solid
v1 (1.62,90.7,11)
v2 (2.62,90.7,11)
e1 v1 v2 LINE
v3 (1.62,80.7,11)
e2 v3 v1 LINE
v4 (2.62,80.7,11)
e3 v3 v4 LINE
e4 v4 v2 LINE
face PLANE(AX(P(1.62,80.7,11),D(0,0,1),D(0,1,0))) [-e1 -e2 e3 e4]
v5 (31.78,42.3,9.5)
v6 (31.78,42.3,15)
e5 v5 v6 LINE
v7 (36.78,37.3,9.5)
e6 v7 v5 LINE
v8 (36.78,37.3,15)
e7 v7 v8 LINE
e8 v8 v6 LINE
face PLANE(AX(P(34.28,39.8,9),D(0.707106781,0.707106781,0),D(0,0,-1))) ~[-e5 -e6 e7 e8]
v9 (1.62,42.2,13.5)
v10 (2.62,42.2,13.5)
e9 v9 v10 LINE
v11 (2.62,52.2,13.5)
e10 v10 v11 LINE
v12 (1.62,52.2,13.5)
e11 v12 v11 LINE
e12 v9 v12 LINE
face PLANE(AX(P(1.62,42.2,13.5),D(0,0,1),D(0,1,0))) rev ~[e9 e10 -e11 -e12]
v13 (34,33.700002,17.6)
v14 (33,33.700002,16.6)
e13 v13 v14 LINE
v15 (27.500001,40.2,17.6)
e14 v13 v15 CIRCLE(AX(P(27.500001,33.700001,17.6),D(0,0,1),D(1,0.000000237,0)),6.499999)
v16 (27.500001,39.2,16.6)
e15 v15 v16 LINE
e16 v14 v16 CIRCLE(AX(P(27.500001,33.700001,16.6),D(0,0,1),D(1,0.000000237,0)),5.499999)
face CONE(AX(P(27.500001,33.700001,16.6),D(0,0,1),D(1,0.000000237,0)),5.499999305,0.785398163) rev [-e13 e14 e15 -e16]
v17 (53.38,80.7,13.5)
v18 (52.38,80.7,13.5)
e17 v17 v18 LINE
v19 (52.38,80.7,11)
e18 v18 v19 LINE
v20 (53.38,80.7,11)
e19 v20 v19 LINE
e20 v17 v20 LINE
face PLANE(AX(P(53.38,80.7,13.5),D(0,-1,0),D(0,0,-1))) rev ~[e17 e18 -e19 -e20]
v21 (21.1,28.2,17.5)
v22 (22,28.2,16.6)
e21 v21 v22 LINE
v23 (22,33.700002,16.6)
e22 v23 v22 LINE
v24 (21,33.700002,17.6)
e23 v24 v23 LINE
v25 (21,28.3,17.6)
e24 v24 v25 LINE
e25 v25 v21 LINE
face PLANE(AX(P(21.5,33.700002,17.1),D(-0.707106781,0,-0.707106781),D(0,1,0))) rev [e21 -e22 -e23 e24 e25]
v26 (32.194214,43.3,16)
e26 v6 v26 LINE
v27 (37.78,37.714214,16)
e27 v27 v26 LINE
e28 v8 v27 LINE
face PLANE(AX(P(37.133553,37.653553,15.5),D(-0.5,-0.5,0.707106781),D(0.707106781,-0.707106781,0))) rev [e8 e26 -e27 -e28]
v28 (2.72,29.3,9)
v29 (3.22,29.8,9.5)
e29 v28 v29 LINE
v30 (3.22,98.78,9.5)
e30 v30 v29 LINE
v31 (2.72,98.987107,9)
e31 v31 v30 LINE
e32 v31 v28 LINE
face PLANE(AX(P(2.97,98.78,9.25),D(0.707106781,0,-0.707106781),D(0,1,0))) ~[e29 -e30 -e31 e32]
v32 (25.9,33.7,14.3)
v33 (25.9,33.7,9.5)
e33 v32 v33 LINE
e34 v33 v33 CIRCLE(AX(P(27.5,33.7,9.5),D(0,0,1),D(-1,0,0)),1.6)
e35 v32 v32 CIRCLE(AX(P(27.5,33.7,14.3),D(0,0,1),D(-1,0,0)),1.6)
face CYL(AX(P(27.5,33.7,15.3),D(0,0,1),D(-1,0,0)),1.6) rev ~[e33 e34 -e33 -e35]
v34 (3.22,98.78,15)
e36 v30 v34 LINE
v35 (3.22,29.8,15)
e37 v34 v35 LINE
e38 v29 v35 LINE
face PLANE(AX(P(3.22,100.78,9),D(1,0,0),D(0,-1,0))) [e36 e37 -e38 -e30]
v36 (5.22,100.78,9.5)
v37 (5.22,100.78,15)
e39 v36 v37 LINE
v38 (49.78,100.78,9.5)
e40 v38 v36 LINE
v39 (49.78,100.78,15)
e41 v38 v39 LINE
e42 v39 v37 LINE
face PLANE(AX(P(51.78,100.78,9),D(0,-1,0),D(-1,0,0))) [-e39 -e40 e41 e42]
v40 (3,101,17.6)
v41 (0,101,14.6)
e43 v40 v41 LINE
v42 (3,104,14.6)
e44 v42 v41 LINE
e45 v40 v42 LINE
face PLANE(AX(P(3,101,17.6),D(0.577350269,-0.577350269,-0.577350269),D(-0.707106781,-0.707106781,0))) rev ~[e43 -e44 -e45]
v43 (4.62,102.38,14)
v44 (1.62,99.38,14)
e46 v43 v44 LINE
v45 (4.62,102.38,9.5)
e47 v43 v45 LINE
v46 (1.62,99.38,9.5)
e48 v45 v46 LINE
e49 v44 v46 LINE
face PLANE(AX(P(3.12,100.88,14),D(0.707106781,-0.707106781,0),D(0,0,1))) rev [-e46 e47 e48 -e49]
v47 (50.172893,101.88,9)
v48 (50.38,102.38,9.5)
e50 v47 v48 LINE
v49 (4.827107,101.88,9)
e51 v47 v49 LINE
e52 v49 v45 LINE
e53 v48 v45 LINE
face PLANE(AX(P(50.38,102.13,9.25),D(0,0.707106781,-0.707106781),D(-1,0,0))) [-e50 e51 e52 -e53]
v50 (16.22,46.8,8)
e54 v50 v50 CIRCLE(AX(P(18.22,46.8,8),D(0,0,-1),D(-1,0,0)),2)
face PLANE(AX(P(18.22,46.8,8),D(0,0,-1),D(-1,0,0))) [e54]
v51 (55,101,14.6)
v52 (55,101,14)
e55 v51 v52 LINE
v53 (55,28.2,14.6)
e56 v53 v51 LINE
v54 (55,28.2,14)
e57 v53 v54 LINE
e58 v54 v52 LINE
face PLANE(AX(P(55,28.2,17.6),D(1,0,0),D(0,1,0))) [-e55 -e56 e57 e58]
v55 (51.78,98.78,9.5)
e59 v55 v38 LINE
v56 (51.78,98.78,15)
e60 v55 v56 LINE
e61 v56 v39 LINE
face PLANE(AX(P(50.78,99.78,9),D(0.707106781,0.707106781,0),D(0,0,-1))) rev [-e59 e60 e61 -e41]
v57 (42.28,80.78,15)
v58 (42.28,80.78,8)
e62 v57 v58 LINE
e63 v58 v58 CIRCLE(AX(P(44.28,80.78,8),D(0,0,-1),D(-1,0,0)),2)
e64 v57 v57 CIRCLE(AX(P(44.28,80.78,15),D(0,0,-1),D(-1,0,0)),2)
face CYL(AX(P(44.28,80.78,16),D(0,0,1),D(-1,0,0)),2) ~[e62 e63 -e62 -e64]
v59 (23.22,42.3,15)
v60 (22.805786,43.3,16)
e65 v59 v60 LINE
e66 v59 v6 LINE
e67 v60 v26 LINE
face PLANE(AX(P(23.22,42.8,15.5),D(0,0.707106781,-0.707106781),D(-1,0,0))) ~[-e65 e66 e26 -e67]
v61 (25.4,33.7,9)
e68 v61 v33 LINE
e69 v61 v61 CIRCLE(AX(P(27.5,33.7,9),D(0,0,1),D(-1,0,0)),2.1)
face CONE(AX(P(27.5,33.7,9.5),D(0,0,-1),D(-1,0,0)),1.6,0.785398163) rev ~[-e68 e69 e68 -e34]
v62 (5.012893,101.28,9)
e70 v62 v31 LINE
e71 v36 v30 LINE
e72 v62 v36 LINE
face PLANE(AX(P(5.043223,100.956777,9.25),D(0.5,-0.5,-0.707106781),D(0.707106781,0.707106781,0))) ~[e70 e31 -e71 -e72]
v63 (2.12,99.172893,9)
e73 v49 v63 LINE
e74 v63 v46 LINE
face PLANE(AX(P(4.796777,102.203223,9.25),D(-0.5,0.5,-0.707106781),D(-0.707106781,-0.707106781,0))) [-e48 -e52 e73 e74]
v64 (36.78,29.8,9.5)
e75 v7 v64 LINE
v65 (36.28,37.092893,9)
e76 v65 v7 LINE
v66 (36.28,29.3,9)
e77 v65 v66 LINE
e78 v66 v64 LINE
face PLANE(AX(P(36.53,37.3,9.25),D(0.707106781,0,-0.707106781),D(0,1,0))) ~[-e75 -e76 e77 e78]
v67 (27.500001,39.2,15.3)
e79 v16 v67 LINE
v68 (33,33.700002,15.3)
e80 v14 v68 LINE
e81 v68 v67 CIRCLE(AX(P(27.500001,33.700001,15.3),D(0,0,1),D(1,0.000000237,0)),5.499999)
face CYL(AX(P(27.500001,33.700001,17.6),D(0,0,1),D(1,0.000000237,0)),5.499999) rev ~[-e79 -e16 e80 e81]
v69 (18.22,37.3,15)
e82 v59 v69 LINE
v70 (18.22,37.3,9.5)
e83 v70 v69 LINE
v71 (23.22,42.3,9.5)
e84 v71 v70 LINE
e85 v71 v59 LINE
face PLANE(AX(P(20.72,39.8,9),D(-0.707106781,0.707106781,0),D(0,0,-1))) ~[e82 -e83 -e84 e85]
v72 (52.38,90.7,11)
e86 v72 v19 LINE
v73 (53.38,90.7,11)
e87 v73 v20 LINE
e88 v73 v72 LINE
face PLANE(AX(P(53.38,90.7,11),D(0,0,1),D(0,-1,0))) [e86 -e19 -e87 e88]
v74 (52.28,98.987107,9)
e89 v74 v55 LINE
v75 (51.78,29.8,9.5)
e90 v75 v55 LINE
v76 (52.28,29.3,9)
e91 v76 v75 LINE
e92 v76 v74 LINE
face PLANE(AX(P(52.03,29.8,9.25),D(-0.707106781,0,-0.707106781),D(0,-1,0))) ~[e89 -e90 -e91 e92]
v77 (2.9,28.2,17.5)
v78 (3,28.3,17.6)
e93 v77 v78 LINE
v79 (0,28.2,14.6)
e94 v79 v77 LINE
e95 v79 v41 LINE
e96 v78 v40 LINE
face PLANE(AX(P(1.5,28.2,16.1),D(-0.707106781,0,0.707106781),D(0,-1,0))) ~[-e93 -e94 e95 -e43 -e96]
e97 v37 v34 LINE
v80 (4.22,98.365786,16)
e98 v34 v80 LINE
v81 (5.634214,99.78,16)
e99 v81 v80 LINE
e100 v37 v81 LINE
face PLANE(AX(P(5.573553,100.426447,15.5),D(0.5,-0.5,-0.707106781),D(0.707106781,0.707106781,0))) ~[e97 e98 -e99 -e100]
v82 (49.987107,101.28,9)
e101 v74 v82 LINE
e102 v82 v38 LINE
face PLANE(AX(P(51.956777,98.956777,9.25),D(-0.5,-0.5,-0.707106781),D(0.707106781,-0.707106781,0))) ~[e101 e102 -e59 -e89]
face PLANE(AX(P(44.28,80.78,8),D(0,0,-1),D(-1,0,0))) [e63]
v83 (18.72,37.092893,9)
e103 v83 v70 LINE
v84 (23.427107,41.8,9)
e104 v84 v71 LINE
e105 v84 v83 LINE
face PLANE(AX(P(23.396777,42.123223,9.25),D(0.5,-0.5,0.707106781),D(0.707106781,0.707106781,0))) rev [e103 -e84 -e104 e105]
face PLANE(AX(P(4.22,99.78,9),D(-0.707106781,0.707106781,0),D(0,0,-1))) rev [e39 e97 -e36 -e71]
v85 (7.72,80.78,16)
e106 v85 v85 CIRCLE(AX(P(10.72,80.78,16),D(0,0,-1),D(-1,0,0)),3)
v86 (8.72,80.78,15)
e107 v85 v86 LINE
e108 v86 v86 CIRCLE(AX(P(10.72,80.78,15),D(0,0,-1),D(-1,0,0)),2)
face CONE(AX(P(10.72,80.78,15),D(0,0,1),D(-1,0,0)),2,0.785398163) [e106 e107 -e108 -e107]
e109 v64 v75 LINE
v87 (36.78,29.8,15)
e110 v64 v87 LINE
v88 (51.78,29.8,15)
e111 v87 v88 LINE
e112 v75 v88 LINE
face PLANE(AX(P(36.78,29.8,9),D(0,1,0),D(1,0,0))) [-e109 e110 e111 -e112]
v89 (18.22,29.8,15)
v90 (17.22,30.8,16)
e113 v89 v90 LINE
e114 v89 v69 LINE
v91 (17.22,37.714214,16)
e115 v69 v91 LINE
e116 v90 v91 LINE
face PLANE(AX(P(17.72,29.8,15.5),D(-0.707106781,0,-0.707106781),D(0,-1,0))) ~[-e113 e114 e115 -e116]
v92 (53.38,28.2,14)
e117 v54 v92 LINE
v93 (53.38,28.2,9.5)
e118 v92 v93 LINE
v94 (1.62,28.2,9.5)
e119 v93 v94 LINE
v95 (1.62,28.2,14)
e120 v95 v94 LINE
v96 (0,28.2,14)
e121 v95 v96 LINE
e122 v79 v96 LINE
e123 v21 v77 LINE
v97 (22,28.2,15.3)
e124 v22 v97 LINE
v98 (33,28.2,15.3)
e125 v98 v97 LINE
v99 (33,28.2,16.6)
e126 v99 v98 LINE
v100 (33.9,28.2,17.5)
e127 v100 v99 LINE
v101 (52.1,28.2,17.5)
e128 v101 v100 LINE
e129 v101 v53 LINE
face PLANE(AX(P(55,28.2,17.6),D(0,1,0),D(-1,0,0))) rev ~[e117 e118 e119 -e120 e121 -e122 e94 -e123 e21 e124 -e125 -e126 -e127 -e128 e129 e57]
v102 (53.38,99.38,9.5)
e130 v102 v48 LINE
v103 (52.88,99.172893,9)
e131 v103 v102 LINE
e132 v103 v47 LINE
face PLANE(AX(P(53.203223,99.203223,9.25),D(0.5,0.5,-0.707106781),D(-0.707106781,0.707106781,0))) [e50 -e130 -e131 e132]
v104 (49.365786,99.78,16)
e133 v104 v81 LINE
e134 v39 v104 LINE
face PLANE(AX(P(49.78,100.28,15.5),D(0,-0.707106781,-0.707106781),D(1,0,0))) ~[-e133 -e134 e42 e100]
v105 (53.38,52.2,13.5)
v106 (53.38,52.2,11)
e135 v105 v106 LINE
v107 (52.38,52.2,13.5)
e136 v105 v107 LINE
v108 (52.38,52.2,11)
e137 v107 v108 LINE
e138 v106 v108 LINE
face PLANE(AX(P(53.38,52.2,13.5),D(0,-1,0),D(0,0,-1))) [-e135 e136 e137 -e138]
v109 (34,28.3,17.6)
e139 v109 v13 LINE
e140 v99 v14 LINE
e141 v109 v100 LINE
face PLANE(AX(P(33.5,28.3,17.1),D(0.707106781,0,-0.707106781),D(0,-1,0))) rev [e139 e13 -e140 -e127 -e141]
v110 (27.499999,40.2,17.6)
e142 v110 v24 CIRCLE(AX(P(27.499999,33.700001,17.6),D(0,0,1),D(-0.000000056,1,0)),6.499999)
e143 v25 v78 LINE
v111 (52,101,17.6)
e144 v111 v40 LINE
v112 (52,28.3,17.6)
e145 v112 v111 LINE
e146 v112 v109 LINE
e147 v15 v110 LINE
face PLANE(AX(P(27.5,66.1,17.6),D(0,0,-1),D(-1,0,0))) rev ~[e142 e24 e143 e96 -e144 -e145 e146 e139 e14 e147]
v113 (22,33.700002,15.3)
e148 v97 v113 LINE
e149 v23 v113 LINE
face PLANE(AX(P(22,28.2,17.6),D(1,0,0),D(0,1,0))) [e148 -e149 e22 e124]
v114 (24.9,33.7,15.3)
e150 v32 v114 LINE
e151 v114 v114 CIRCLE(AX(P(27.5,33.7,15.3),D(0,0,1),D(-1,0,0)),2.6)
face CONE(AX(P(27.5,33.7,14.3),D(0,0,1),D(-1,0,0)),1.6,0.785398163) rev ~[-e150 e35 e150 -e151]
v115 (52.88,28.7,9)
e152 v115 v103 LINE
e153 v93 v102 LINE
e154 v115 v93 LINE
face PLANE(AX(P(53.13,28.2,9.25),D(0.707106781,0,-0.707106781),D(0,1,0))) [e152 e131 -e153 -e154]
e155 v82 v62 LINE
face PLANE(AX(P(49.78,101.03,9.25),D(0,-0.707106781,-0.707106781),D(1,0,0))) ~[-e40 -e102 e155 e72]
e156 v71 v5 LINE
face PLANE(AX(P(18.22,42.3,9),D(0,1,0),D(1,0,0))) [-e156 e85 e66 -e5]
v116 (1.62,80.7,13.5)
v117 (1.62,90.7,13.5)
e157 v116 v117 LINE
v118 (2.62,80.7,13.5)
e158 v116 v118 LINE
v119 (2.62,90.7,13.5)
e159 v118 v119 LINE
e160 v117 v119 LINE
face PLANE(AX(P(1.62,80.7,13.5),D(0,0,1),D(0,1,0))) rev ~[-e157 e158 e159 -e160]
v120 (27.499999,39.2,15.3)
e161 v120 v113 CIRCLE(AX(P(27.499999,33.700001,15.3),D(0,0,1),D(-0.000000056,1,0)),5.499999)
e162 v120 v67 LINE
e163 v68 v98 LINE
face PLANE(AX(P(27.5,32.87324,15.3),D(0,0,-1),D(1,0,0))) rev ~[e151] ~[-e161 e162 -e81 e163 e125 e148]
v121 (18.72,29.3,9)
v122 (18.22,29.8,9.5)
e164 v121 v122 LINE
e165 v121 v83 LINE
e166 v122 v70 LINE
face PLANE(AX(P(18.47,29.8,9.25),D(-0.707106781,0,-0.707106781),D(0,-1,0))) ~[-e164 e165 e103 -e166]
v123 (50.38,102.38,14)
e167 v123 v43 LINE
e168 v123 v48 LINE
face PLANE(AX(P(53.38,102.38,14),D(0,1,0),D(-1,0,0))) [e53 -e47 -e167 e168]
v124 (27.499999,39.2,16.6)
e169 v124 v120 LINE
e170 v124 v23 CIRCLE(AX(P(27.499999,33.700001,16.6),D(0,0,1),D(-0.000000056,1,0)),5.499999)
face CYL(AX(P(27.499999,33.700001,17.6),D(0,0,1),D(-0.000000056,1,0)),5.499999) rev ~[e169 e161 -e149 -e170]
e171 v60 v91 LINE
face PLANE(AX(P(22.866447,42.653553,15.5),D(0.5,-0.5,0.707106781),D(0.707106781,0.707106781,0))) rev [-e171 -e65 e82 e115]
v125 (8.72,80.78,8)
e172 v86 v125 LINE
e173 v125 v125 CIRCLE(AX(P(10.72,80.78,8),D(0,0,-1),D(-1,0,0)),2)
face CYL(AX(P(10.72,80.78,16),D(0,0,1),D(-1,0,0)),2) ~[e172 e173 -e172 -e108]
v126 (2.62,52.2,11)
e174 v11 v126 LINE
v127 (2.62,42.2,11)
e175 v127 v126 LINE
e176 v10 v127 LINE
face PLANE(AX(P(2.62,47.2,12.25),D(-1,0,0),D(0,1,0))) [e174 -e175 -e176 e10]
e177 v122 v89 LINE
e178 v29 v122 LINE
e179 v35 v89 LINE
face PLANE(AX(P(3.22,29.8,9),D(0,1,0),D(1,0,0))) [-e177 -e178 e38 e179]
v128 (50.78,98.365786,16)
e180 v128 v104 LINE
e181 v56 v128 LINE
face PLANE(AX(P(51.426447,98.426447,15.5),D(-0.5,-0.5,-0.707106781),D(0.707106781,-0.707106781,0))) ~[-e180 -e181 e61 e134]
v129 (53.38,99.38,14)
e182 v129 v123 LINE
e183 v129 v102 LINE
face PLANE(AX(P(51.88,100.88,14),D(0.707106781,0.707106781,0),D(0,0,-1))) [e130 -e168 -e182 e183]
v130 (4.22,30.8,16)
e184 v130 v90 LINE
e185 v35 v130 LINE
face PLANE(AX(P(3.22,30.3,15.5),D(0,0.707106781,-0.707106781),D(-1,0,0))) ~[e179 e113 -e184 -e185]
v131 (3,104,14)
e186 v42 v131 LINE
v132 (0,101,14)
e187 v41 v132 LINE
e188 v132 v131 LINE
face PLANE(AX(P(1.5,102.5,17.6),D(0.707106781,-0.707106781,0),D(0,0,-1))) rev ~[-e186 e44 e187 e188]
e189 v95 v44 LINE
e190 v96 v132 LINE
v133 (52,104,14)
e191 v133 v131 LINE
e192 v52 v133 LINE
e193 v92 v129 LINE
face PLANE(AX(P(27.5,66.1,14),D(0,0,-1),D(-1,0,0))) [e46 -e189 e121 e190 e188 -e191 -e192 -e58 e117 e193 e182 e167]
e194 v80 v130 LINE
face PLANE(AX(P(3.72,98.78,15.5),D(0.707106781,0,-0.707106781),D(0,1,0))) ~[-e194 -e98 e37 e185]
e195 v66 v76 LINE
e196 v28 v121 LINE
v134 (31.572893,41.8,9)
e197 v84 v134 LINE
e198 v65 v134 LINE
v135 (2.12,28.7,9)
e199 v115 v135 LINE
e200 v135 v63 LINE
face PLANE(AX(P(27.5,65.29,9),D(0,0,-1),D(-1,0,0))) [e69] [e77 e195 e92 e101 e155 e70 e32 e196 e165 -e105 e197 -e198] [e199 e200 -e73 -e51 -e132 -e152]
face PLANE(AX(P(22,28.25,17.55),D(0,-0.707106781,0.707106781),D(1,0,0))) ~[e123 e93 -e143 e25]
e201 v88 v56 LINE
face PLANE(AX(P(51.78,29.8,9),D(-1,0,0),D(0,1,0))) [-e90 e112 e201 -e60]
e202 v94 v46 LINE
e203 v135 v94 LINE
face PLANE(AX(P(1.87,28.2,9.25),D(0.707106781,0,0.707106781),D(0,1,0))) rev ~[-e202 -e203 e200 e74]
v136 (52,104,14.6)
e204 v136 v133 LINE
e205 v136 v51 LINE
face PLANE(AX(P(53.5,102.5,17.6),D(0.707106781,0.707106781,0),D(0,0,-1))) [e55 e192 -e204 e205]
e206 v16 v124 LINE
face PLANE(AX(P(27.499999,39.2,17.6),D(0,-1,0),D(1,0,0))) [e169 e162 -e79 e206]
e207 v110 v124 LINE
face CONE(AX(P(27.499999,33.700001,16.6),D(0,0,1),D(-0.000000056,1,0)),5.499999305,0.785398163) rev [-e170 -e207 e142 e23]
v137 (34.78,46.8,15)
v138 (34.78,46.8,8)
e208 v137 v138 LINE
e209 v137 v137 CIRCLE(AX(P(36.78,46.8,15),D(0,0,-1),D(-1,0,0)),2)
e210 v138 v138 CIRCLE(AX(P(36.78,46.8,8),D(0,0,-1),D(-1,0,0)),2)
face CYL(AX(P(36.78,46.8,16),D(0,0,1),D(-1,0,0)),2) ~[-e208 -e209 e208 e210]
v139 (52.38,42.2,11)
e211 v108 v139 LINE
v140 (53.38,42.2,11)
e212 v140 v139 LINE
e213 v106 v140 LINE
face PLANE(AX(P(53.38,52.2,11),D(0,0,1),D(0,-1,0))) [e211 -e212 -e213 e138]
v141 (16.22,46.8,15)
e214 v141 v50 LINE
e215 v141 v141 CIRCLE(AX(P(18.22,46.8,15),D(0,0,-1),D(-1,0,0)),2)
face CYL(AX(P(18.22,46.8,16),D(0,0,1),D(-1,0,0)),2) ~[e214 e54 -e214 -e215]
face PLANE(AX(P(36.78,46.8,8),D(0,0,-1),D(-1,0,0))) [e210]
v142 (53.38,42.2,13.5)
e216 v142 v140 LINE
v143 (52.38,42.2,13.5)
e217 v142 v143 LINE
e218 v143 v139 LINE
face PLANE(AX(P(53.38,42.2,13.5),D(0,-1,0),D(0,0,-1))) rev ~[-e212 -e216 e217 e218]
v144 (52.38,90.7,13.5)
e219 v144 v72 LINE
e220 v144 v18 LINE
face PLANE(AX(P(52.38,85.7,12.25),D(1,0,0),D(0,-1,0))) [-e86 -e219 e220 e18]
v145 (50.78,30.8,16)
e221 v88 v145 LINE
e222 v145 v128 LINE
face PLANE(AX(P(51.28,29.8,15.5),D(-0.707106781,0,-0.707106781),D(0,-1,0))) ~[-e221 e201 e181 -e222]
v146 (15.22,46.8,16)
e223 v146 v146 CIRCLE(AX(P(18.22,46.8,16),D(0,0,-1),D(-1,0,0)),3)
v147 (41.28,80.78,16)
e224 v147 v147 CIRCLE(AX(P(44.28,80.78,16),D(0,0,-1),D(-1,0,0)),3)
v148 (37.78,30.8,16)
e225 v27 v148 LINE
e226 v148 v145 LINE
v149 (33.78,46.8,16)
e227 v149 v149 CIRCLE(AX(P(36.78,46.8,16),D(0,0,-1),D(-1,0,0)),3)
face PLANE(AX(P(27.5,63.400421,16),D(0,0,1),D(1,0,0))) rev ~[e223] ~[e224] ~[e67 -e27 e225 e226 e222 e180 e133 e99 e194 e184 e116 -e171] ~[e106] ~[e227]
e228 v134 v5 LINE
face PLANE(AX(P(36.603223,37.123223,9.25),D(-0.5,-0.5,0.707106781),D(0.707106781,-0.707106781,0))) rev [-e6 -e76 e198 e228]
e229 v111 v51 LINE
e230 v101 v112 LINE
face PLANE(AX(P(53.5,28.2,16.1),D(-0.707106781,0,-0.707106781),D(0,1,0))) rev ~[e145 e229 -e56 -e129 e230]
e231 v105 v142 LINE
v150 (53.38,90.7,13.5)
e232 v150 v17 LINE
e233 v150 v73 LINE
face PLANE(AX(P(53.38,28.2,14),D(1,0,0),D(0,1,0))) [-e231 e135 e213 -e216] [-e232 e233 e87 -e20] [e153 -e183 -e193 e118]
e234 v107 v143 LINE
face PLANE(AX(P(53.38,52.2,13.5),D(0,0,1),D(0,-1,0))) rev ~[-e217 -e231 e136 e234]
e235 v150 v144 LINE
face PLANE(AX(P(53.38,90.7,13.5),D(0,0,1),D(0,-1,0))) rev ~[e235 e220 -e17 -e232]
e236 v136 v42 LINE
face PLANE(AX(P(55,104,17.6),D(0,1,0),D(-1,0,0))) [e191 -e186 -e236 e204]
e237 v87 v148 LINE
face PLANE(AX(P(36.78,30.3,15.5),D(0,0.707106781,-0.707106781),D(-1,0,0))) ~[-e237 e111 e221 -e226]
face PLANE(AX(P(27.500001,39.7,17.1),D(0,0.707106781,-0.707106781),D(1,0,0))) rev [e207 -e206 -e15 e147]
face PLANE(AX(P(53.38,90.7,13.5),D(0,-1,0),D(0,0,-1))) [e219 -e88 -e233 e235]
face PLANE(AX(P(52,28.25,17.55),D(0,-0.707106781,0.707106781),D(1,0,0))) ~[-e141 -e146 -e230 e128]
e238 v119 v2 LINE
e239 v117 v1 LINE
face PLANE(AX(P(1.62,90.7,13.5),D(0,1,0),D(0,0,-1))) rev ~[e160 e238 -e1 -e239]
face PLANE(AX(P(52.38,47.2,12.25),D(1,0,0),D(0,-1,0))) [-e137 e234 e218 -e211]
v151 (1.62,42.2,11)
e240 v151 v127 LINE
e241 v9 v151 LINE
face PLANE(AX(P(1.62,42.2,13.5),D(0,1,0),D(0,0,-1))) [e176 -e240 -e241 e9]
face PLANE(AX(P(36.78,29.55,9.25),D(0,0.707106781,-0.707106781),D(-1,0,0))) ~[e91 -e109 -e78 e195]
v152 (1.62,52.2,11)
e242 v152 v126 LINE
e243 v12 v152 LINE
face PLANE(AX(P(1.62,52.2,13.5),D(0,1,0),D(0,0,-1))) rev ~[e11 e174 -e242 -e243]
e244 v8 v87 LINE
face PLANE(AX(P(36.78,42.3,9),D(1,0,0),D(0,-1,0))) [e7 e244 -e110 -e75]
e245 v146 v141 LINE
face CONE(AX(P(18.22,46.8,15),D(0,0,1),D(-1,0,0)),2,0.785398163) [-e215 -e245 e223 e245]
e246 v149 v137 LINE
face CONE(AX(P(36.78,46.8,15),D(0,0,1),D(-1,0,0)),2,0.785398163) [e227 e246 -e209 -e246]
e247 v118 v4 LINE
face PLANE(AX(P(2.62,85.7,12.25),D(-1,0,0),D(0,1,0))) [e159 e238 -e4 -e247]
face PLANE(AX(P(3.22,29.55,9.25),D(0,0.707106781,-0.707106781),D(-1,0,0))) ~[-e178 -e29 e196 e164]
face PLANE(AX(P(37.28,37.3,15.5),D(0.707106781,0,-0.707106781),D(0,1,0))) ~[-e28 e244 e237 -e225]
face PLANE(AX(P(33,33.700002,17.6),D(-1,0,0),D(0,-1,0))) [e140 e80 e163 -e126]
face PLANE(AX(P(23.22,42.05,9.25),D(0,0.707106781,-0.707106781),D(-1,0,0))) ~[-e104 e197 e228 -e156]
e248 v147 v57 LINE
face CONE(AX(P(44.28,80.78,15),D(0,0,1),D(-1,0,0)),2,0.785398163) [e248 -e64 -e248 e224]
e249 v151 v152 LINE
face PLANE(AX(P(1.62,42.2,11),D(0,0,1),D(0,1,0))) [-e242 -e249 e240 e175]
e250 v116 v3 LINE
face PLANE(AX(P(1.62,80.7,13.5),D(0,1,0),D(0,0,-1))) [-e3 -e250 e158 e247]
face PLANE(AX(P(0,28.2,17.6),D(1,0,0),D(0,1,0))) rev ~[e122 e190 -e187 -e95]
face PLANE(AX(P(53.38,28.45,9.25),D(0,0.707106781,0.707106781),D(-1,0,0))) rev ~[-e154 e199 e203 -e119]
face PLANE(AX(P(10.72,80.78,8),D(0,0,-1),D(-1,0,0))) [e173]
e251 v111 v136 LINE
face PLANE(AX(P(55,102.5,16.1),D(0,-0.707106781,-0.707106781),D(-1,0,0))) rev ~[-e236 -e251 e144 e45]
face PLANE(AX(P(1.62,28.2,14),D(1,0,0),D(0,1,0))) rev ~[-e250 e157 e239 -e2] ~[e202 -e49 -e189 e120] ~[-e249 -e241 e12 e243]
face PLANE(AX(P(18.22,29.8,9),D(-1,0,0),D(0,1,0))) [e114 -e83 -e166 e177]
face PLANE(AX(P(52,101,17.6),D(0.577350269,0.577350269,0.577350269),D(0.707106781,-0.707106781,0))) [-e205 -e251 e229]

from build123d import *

# Parameters (mm, degrees)
SKETCH017_W     = 55
SKETCH017_H     = 75.8
PAD012_DEPTH    = 3.6
SKETCH018_W     = 51.76
SKETCH018_H     = 74.18
PAD013_DEPTH    = 5
POCKET004_DEPTH = 7
SKETCH019_R     = 2
PAD014_DEPTH    = 8
SKETCH020_W     = 10
SKETCH020_H     = 2.5
POCKET005_DEPTH = 1
SKETCH021_W     = 10
SKETCH021_H     = 2.5
POCKET006_DEPTH = 1
POCKET007_DEPTH = 2.3
SKETCH023_R     = 1.6
POCKET008_DEPTH = 7.301
CHAMFER010_SIZE = 5
CHAMFER011_SIZE = 2
CHAMFER012_SIZE = 1
CHAMFER013_SIZE = 3
CHAMFER014_SIZE = 0.5
CHAMFER015_SIZE = 1
CHAMFER016_SIZE = 3
CHAMFER017_SIZE = 0.1
CHAMFER018_SIZE = 1


with BuildPart() as part:
    # Sketch017 → Pad012 (new body)
    with BuildSketch(Plane(origin=(55, 28.2, 17.6), x_dir=(-1, 0, 0), z_dir=(0, 0, -1))):
        with Locations((27.5, 37.9)):
            Rectangle(SKETCH017_W, SKETCH017_H)
    extrude(amount=PAD012_DEPTH)

    # Sketch018 → Pad013 (new body)
    with BuildSketch(Plane(origin=(55, 28.2, 14), x_dir=(-1, 0, 0), z_dir=(0, 0, -1))):
        with Locations((27.5, 37.09)):
            Rectangle(SKETCH018_W, SKETCH018_H)
    extrude(amount=PAD013_DEPTH)

    # Sketch002 → Pocket004 (cut)
    with BuildSketch(Plane(origin=(55, 28.2, 9), x_dir=(-1, 0, 0), z_dir=(0, 0, -1))):
        Polygon((18.22, 1.6), (3.22, 1.6), (3.22, 72.58), (51.78, 72.58), (51.78, 1.6), (36.78, 1.6), (36.78, 14.1), (18.22, 14.1), align=None)
    extrude(amount=-POCKET004_DEPTH, mode=Mode.SUBTRACT)

    # Sketch019 → Pad014 (new body)
    with BuildSketch(Plane(origin=(55, 28.2, 16), x_dir=(-1, 0, 0), z_dir=(0, 0, -1))):
        with Locations((10.72, 52.58)):
            Circle(SKETCH019_R)
        with Locations((44.28, 52.58)):
            Circle(SKETCH019_R)
        with Locations((18.22, 18.6)):
            Circle(SKETCH019_R)
        with Locations((36.78, 18.6)):
            Circle(SKETCH019_R)
    extrude(amount=PAD014_DEPTH)

    # Sketch020 → Pocket005 (cut)
    with BuildSketch(Plane(origin=(1.62, 28.2, 17.6), x_dir=(0, 1, 0), z_dir=(-1, 0, 0))):
        with Locations((19, 5.35)):
            Rectangle(SKETCH020_W, SKETCH020_H)
        with Locations((57.5, 5.35)):
            Rectangle(SKETCH020_W, SKETCH020_H)
    extrude(amount=-POCKET005_DEPTH, mode=Mode.SUBTRACT)

    # Sketch021 → Pocket006 (cut)
    with BuildSketch(Plane(origin=(53.38, 28.2, 17.6), x_dir=(0, -1, 0), z_dir=(1, 0, 0))):
        with Locations((-57.5, 5.35)):
            Rectangle(SKETCH021_W, SKETCH021_H)
        with Locations((-19, 5.35)):
            Rectangle(SKETCH021_W, SKETCH021_H)
    extrude(amount=-POCKET006_DEPTH, mode=Mode.SUBTRACT)

    # Sketch022 → Pocket007 (cut)
    with BuildSketch(Plane(origin=(55, 28.2, 17.6), x_dir=(-1, 0, 0), z_dir=(0, 0, 1))):
        with BuildLine():
            Line((22, 0), (33, 0))
            Line((33, 0), (33, -5.500002))
            ThreePointArc((27.500001, -11), (31.389087, -9.389088), (33, -5.500002))
            Line((27.500001, -11), (27.499999, -11))
            ThreePointArc((22, -5.500002), (23.610913, -9.389088), (27.499999, -11))
            Line((22, -5.500002), (22, 0))
        make_face()
    extrude(amount=-POCKET007_DEPTH, mode=Mode.SUBTRACT)

    # Sketch023 → Pocket008 (cut, through all)
    with BuildSketch(Plane(origin=(55, 28.2, 15.3), x_dir=(-1, 0, 0), z_dir=(0, 0, 1))):
        with Locations((27.5, -5.5)):
            Circle(SKETCH023_R)
    extrude(amount=-POCKET008_DEPTH, mode=Mode.SUBTRACT)

    # Chamfer010
    chamfer010_edges = [part.edges().sort_by_distance(p)[0] for p in [
        (36.78, 42.3, 12.5),
        (18.22, 42.3, 12.5),
    ]]
    chamfer(chamfer010_edges, length=CHAMFER010_SIZE)

    # Chamfer011
    chamfer011_edges = [part.edges().sort_by_distance(p)[0] for p in [
        (51.78, 100.78, 12.5),
        (3.22, 100.78, 12.5),
    ]]
    chamfer(chamfer011_edges, length=CHAMFER011_SIZE)

    # Chamfer012
    chamfer012_edges = [part.edges().sort_by_distance(p)[0] for p in [
        (51.78, 64.29, 16),
        (50.78, 99.78, 16),
        (44.28, 29.8, 16),
        (27.5, 100.78, 16),
        (36.78, 33.55, 16),
        (4.22, 99.78, 16),
        (34.28, 39.8, 16),
        (3.22, 64.29, 16),
        (27.5, 42.3, 16),
        (10.72, 29.8, 16),
        (20.72, 39.8, 16),
        (18.22, 33.55, 16),
        (46.28, 80.78, 16),
        (38.78, 46.8, 16),
        (20.22, 46.8, 16),
        (12.72, 80.78, 16),
    ]]
    chamfer(chamfer012_edges, length=CHAMFER012_SIZE)

    # Chamfer013
    chamfer013_edges = [part.edges().sort_by_distance(p)[0] for p in [
        (1.62, 102.38, 11.5),
        (53.38, 102.38, 11.5),
    ]]
    chamfer(chamfer013_edges, length=CHAMFER013_SIZE)

    # Chamfer014
    chamfer014_edges = [part.edges().sort_by_distance(p)[0] for p in [
        (53.38, 63.79, 9),
        (51.88, 100.88, 9),
        (27.5, 28.2, 9),
        (27.5, 102.38, 9),
        (1.62, 63.79, 9),
        (3.12, 100.88, 9),
        (3.22, 64.29, 9),
        (4.22, 99.78, 9),
        (10.72, 29.8, 9),
        (27.5, 100.78, 9),
        (18.22, 33.55, 9),
        (50.78, 99.78, 9),
        (20.72, 39.8, 9),
        (51.78, 64.29, 9),
        (27.5, 42.3, 9),
        (44.28, 29.8, 9),
        (34.28, 39.8, 9),
        (36.78, 33.55, 9),
        (29.1, 33.7, 9),
    ]]
    chamfer(chamfer014_edges, length=CHAMFER014_SIZE)

    # Chamfer015
    chamfer015_edges = [part.edges().sort_by_distance(p)[0] for p in [
        (29.1, 33.7, 15.3),
    ]]
    chamfer(chamfer015_edges, length=CHAMFER015_SIZE)

    # Chamfer016
    chamfer016_edges = [part.edges().sort_by_distance(p)[0] for p in [
        (55, 104, 15.8),
        (0, 104, 15.8),
        (27.5, 104, 17.6),
        (0, 66.1, 17.6),
        (55, 66.1, 17.6),
    ]]
    chamfer(chamfer016_edges, length=CHAMFER016_SIZE)

    # Chamfer017
    chamfer017_edges = [part.edges().sort_by_distance(p)[0] for p in [
        (42.5, 28.2, 17.6),
        (12.5, 28.2, 17.6),
    ]]
    chamfer(chamfer017_edges, length=CHAMFER017_SIZE)

    # Chamfer018
    chamfer018_edges = [part.edges().sort_by_distance(p)[0] for p in [
        (31.389087, 37.589088, 17.6),
    ]]
    chamfer(chamfer018_edges, length=CHAMFER018_SIZE)


solid = part.part
